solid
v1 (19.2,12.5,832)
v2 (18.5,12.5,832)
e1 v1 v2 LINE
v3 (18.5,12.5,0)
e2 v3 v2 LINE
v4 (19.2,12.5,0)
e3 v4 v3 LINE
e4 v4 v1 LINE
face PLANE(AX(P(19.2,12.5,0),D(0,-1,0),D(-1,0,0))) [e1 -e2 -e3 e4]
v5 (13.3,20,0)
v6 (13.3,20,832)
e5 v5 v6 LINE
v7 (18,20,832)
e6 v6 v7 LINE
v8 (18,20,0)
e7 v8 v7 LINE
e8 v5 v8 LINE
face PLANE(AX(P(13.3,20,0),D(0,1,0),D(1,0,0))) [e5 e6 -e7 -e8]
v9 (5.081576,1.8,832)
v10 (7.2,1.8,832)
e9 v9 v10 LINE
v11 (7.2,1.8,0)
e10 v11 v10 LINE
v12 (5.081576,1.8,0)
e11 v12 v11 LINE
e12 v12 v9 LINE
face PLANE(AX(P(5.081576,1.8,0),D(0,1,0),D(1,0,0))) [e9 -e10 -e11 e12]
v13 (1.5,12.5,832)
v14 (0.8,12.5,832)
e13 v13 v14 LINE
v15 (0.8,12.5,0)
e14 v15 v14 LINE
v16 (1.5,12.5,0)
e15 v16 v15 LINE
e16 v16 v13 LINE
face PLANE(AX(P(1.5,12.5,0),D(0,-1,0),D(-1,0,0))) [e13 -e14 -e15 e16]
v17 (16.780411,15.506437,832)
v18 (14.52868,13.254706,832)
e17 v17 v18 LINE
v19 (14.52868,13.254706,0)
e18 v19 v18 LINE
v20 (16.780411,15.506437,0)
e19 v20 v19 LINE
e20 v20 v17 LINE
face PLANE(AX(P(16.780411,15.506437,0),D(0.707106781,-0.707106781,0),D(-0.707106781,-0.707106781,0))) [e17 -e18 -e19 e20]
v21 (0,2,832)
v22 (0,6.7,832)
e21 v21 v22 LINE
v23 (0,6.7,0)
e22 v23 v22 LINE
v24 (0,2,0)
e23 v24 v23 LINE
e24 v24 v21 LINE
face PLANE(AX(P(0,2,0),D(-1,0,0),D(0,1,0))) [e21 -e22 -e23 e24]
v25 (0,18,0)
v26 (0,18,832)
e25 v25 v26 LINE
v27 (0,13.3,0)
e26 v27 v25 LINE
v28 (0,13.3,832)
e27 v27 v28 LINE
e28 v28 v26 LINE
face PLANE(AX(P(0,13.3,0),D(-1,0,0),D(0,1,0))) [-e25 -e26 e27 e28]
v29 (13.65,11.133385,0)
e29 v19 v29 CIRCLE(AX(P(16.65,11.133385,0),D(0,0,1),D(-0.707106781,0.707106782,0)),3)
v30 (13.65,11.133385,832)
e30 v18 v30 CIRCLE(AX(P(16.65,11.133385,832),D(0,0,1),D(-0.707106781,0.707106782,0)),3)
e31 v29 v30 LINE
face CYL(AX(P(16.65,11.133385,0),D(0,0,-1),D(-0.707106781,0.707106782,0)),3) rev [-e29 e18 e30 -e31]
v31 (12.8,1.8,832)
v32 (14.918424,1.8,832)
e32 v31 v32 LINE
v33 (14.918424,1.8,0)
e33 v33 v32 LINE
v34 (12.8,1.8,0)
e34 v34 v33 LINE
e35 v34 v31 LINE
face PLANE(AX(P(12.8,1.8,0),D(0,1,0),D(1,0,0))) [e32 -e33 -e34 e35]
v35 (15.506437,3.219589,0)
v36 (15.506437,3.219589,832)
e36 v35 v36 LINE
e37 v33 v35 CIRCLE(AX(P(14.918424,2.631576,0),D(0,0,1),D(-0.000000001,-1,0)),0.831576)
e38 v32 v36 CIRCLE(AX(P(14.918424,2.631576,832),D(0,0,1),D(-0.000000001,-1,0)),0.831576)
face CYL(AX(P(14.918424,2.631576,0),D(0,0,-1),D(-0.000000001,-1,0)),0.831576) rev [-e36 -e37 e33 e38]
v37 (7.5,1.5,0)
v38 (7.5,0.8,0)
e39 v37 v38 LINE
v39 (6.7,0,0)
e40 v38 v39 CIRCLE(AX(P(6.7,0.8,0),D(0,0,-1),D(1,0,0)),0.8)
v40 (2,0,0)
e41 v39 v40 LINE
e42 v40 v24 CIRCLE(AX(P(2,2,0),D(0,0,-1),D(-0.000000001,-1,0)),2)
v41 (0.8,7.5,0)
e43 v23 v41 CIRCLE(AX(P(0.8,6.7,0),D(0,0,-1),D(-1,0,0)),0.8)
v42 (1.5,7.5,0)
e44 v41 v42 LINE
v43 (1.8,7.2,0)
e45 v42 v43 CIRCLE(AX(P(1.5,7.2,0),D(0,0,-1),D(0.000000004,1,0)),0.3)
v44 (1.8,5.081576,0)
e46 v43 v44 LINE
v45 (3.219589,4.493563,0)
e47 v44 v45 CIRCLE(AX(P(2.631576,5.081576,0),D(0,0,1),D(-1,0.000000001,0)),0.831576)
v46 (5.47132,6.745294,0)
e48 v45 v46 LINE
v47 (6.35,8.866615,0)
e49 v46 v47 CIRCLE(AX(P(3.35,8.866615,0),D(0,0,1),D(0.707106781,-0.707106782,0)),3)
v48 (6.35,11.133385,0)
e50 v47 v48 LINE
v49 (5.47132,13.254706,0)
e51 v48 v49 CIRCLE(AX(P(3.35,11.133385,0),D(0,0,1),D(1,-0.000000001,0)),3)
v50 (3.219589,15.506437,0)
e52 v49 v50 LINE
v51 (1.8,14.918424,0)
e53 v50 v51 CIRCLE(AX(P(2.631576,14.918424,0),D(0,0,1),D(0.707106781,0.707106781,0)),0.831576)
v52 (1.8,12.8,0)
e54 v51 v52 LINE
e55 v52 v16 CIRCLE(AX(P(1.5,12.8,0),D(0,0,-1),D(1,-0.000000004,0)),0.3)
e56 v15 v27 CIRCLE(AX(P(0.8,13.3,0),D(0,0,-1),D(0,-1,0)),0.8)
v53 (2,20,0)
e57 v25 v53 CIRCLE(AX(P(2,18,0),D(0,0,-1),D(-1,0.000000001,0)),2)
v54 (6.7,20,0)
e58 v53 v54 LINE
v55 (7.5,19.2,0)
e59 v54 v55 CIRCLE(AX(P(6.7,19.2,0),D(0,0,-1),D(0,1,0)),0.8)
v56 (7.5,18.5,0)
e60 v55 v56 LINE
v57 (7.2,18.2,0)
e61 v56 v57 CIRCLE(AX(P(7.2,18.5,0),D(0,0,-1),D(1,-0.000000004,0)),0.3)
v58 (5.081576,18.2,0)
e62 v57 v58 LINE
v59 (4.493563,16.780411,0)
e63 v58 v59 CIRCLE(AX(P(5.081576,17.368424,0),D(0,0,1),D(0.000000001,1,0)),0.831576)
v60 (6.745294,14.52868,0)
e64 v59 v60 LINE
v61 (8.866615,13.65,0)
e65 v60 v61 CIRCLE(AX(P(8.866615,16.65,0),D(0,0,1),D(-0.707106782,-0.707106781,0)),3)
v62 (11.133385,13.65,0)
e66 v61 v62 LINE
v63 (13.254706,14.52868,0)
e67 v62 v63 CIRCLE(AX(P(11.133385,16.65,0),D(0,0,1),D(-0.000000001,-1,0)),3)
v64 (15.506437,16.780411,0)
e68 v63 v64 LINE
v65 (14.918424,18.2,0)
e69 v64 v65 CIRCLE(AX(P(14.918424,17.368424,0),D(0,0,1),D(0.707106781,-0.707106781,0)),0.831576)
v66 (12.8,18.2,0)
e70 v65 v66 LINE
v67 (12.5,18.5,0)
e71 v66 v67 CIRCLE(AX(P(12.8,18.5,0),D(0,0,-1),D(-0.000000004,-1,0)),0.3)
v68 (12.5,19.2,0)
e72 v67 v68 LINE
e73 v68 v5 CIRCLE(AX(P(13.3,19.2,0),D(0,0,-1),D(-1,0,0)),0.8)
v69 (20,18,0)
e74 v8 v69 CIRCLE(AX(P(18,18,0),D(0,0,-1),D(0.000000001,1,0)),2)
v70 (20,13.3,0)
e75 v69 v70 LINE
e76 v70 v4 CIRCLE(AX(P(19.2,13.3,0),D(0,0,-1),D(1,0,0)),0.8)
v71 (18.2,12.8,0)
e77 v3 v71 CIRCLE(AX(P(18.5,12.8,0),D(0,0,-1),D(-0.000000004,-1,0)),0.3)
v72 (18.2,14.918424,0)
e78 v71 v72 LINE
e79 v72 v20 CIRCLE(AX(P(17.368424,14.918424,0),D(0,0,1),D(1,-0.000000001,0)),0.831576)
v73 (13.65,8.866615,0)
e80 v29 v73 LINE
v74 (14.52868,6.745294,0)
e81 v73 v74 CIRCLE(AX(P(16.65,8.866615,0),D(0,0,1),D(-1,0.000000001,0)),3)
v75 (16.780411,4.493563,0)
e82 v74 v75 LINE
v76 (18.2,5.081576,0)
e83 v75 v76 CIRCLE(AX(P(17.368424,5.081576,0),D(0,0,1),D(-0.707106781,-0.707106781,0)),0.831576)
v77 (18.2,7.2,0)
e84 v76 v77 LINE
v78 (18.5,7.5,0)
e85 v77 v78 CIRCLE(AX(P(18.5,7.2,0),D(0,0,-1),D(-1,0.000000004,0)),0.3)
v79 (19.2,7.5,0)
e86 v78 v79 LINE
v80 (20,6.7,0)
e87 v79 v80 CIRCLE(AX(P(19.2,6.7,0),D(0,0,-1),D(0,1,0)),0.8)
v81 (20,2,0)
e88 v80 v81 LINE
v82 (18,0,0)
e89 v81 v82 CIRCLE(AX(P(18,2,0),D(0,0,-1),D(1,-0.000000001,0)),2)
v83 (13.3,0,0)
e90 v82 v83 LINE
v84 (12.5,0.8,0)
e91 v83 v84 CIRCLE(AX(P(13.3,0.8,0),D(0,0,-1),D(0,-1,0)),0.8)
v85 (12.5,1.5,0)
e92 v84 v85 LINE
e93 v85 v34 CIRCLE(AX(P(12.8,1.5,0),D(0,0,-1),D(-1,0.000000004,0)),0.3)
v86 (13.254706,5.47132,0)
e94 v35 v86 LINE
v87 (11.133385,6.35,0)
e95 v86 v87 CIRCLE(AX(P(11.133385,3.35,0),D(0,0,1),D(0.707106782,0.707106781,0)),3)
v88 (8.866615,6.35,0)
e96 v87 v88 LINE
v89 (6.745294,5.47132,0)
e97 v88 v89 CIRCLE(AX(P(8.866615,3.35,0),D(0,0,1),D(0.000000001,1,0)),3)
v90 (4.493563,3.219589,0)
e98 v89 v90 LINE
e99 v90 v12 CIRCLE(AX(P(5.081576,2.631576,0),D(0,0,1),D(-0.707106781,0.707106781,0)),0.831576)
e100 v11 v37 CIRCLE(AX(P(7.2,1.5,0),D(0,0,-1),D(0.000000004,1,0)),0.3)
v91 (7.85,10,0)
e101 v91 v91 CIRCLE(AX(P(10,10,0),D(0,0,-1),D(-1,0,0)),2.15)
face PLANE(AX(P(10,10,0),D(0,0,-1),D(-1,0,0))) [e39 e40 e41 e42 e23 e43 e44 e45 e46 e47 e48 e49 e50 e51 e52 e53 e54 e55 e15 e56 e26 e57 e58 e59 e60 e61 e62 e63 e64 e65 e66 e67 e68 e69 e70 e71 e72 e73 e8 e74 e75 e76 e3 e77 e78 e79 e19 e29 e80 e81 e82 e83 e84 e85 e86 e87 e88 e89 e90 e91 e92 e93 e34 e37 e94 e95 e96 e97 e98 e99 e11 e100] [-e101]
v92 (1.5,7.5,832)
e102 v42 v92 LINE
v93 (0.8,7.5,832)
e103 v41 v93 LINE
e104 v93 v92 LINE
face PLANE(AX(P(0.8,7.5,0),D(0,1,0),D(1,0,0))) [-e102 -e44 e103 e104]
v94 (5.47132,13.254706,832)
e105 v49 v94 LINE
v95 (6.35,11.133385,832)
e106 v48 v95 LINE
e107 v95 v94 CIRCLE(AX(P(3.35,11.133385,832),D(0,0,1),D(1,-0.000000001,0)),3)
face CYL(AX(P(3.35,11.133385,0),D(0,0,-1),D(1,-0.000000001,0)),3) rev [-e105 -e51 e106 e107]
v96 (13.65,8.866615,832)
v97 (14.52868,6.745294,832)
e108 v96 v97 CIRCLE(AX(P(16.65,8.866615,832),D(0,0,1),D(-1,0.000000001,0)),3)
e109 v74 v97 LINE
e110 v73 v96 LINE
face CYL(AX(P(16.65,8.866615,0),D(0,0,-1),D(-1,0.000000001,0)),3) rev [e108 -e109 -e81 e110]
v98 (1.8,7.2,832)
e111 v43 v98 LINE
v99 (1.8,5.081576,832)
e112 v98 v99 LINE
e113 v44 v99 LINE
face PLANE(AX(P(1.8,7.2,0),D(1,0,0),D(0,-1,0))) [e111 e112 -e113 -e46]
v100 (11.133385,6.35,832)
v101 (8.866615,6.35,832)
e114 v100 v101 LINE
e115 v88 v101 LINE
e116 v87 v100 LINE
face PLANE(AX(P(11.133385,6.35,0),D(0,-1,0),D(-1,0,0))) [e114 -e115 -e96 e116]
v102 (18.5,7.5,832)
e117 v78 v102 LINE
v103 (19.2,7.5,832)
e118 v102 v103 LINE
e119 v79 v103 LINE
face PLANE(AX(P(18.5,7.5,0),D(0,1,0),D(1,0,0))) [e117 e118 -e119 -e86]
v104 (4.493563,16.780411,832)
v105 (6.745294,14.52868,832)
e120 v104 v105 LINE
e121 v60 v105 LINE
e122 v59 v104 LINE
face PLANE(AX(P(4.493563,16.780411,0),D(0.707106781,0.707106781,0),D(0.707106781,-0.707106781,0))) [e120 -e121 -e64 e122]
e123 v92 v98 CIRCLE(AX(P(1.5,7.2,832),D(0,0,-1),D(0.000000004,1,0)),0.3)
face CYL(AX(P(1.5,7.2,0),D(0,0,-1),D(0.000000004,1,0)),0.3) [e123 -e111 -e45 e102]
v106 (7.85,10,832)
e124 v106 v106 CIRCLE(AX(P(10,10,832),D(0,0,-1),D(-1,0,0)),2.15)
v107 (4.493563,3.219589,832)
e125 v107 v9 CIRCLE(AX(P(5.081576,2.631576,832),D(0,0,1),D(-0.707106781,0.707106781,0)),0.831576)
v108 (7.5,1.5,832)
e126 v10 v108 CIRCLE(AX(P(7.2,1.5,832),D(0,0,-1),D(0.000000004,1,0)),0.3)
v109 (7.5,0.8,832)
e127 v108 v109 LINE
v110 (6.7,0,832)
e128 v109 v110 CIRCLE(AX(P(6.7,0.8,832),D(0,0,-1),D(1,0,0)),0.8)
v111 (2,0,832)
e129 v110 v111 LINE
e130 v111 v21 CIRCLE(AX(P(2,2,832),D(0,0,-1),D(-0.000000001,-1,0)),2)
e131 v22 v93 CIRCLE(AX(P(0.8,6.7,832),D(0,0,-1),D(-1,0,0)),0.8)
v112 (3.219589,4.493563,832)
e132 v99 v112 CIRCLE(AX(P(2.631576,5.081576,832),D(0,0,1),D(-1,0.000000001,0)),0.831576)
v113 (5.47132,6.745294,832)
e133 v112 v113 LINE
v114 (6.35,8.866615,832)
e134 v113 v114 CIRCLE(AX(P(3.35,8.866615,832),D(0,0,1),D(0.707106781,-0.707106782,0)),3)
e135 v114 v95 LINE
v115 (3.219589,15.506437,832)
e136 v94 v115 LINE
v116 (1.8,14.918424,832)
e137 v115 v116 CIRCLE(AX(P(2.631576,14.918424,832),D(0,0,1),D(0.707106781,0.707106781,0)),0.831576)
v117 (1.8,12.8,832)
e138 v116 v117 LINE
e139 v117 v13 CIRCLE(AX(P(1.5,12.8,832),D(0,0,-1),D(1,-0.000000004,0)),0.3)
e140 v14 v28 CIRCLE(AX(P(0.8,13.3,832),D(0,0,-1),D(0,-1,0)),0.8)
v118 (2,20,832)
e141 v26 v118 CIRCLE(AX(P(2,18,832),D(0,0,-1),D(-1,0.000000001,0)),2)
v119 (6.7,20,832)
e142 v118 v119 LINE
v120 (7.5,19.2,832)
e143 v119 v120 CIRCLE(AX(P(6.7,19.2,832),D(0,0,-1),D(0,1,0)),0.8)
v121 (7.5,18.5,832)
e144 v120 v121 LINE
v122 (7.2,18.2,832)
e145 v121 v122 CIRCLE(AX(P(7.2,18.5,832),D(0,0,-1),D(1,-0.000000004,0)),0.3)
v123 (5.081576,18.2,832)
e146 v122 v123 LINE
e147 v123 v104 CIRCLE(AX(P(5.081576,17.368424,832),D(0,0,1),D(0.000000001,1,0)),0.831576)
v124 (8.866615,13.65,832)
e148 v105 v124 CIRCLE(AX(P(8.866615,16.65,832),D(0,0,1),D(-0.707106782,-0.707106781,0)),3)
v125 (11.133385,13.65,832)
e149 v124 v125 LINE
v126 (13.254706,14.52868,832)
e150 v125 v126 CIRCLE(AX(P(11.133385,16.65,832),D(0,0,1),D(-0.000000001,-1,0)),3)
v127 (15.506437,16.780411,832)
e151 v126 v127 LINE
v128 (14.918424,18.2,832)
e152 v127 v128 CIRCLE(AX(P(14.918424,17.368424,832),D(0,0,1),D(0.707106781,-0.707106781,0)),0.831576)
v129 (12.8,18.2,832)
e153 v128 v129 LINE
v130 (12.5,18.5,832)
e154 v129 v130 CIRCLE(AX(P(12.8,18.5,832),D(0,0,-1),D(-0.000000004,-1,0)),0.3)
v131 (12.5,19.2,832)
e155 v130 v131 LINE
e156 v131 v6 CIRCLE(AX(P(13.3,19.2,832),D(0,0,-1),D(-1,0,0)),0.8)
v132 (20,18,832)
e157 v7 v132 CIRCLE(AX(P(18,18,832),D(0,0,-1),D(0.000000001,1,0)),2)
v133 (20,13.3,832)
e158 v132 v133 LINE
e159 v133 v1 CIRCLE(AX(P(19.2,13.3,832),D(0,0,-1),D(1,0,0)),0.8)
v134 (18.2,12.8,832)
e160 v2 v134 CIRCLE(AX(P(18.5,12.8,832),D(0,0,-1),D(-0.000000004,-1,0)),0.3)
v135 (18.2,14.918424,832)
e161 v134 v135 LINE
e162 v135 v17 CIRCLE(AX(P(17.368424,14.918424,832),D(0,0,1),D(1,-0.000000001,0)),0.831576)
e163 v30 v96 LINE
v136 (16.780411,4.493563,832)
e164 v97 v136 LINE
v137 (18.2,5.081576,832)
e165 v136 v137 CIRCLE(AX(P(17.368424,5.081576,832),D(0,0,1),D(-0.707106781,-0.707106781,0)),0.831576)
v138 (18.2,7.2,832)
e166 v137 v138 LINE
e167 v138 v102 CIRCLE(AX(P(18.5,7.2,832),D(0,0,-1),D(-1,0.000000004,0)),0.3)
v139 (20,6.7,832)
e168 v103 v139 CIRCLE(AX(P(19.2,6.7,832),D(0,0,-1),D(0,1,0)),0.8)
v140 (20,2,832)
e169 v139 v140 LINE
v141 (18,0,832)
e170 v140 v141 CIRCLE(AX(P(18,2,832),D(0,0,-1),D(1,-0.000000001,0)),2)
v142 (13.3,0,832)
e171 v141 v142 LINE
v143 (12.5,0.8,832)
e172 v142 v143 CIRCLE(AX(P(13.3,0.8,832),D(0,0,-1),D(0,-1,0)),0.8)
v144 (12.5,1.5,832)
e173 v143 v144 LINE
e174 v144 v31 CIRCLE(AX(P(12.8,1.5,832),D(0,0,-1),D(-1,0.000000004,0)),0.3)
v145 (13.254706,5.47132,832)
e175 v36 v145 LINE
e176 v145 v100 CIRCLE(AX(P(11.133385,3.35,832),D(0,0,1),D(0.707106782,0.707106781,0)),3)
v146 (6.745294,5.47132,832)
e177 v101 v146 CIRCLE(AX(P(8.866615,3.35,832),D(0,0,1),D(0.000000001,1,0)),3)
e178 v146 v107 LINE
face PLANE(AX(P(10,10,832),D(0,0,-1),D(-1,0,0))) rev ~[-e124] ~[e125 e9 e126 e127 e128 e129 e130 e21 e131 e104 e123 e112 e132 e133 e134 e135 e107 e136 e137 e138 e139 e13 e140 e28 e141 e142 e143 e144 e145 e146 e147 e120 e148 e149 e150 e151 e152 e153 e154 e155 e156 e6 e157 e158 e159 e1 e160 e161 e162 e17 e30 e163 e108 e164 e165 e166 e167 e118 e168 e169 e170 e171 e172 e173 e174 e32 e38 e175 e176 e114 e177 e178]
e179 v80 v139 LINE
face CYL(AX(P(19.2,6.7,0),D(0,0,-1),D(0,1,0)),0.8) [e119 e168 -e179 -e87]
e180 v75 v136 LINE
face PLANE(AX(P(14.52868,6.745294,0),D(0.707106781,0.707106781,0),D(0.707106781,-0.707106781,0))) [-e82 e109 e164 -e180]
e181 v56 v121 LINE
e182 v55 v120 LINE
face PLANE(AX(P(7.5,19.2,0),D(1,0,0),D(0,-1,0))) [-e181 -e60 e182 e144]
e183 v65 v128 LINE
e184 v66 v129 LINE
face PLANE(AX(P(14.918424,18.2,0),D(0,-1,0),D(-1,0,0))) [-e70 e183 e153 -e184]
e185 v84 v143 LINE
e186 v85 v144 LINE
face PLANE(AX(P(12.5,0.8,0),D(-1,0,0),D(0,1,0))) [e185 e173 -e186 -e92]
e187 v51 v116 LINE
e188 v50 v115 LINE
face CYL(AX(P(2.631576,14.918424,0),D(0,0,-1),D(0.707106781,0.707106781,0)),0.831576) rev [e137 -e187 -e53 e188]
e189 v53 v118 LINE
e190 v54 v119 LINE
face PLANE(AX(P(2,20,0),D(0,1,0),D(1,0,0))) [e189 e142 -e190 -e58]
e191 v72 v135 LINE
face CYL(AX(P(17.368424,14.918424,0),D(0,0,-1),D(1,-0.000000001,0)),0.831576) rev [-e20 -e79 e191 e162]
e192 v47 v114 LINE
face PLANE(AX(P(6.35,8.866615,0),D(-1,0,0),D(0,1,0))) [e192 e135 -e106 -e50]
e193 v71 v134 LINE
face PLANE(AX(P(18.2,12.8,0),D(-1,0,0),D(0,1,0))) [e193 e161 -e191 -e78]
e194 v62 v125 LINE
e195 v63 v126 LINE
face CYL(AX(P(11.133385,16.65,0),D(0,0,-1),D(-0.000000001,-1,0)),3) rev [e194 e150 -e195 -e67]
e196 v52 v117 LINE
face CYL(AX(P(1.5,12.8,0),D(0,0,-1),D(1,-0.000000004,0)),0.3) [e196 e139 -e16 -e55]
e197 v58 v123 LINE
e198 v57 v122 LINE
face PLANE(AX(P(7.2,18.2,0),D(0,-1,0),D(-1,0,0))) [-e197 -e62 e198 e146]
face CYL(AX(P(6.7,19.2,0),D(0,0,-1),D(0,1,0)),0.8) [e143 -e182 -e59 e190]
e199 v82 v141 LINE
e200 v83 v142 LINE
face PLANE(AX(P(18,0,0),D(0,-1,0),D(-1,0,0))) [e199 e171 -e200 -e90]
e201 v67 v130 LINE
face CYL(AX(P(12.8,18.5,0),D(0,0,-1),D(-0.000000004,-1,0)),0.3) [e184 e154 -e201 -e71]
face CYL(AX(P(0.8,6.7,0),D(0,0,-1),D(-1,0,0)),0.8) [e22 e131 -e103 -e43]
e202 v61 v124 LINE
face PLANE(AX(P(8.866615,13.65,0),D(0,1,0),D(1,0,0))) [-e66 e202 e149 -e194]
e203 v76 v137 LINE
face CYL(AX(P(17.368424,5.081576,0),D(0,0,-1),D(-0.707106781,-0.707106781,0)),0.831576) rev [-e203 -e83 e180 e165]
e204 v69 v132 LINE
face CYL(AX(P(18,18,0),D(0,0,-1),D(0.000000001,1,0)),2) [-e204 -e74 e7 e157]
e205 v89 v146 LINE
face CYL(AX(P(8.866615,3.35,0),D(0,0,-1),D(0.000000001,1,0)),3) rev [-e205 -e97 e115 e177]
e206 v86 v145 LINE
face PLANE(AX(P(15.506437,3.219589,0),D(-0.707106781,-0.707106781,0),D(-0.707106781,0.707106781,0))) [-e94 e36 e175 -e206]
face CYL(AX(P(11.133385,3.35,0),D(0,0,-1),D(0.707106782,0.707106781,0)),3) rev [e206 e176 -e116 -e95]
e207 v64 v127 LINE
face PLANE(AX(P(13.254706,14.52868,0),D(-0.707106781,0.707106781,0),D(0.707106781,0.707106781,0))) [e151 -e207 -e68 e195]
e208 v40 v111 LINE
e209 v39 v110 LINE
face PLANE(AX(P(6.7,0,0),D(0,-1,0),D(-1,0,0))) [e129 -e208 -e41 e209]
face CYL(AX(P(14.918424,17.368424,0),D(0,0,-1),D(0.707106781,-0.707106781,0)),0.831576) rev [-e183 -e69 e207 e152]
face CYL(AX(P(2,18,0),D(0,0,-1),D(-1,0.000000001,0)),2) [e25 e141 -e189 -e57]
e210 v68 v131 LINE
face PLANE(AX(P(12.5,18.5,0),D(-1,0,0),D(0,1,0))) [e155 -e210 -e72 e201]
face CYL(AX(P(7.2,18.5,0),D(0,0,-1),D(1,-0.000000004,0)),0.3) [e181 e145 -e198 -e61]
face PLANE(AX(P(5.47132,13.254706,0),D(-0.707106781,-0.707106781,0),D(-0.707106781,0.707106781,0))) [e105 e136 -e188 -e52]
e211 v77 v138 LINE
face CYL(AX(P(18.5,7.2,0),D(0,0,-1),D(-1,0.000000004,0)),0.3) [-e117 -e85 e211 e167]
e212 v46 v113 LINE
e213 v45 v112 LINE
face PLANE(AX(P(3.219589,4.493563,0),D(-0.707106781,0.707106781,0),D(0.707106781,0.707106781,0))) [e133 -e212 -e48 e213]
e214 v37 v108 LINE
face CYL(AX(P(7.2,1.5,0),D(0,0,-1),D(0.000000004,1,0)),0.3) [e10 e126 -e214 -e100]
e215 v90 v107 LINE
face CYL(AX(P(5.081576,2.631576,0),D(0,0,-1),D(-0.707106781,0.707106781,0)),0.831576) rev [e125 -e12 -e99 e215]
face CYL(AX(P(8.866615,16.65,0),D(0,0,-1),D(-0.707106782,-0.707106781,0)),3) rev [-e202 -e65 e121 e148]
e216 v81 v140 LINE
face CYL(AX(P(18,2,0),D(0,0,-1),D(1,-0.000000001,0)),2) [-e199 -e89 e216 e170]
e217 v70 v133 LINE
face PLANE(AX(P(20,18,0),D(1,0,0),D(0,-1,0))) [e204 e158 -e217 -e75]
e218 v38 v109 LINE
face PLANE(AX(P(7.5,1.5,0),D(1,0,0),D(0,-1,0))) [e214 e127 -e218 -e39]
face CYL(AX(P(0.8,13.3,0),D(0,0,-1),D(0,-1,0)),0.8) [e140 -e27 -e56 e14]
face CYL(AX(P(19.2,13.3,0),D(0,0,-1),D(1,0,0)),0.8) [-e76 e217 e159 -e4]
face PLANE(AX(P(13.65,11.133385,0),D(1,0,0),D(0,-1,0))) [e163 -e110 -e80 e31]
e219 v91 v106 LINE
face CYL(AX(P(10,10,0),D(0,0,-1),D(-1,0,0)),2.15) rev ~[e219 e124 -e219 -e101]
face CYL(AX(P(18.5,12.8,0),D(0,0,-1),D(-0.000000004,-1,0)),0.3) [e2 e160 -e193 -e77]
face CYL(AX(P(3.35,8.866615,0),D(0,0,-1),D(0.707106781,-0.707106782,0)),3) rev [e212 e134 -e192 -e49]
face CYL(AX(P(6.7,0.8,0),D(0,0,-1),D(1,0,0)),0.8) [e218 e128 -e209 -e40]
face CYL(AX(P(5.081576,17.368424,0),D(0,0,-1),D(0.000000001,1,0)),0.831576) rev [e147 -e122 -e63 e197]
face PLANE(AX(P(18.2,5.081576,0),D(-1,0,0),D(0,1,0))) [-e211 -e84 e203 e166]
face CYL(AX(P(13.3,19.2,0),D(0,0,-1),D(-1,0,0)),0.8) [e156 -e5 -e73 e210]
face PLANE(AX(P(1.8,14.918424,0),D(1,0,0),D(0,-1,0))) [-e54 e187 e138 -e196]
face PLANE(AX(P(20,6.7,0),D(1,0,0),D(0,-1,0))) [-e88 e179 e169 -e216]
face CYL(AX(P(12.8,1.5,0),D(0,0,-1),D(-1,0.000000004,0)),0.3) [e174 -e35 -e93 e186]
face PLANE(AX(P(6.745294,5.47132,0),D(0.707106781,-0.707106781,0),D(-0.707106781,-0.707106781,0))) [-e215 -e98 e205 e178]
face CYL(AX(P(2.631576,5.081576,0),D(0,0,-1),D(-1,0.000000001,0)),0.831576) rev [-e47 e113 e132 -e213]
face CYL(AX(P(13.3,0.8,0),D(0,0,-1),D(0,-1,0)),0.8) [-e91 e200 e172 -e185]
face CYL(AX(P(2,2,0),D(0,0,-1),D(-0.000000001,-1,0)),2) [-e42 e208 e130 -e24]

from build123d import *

# Parameters (mm, degrees)
ESQUISSE1_R        = 2.15
BOSS_EXTRU_1_DEPTH = 832


with BuildPart() as part:
    # Esquisse1 → Boss.-Extru.1 (new body)
    with BuildSketch(Plane(origin=(0, 0, 0), x_dir=(-1, 0, 0), z_dir=(0, 0, -1))):
        with BuildLine():
            Line((-20, 6.7), (-20, 2))
            ThreePointArc((-20, 2), (-19.414213562, 0.585786438), (-18, 0))
            Line((-18, 0), (-13.3, 0))
            ThreePointArc((-13.3, 0), (-12.734314575, 0.234314575), (-12.5, 0.8))
            Line((-12.5, 0.8), (-12.5, 1.5))
            ThreePointArc((-12.5, 1.5), (-12.587867966, 1.712132034), (-12.8, 1.8))
            Line((-12.8, 1.8), (-14.918424061, 1.8))
            ThreePointArc((-14.918424061, 1.8), (-15.686700051, 2.313345604), (-15.506437047, 3.219588924))
            Line((-15.506437047, 3.219588924), (-13.254705627, 5.471320344))
            ThreePointArc((-13.254705627, 5.471320344), (-12.281435581, 6.121638598), (-11.133385284, 6.35))
            Line((-11.133385284, 6.35), (-8.866614716, 6.35))
            ThreePointArc((-8.866614716, 6.35), (-7.718564419, 6.121638598), (-6.745294373, 5.471320344))
            Line((-6.745294373, 5.471320344), (-4.493562953, 3.219588924))
            ThreePointArc((-4.493562953, 3.219588924), (-4.313299949, 2.313345604), (-5.081575939, 1.8))
            Line((-5.081575939, 1.8), (-7.2, 1.8))
            ThreePointArc((-7.2, 1.8), (-7.412132034, 1.712132034), (-7.5, 1.5))
            Line((-7.5, 1.5), (-7.5, 0.8))
            ThreePointArc((-7.5, 0.8), (-7.265685425, 0.234314575), (-6.7, 0))
            Line((-6.7, 0), (-2, 0))
            ThreePointArc((-2, 0), (-0.585786438, 0.585786438), (0, 2))
            Line((0, 2), (0, 6.7))
            ThreePointArc((0, 6.7), (-0.234314575, 7.265685425), (-0.8, 7.5))
            Line((-0.8, 7.5), (-1.5, 7.5))
            ThreePointArc((-1.5, 7.5), (-1.712132034, 7.412132034), (-1.8, 7.2))
            Line((-1.8, 7.2), (-1.8, 5.081575939))
            ThreePointArc((-1.8, 5.081575939), (-2.313345604, 4.313299949), (-3.219588924, 4.493562953))
            Line((-3.219588924, 4.493562953), (-5.471320344, 6.745294373))
            ThreePointArc((-5.471320344, 6.745294373), (-6.121638598, 7.718564419), (-6.35, 8.866614716))
            Line((-6.35, 8.866614716), (-6.35, 11.133385284))
            ThreePointArc((-6.35, 11.133385284), (-6.121638598, 12.281435581), (-5.471320344, 13.254705627))
            Line((-5.471320344, 13.254705627), (-3.219588924, 15.506437047))
            ThreePointArc((-3.219588924, 15.506437047), (-2.313345604, 15.686700051), (-1.8, 14.918424061))
            Line((-1.8, 14.918424061), (-1.8, 12.8))
            ThreePointArc((-1.8, 12.8), (-1.712132034, 12.587867966), (-1.5, 12.5))
            Line((-1.5, 12.5), (-0.8, 12.5))
            ThreePointArc((-0.8, 12.5), (-0.234314575, 12.734314575), (0, 13.3))
            Line((0, 13.3), (0, 18))
            ThreePointArc((0, 18), (-0.585786438, 19.414213562), (-2, 20))
            Line((-2, 20), (-6.7, 20))
            ThreePointArc((-6.7, 20), (-7.265685425, 19.765685425), (-7.5, 19.2))
            Line((-7.5, 19.2), (-7.5, 18.5))
            ThreePointArc((-7.5, 18.5), (-7.412132034, 18.287867966), (-7.2, 18.2))
            Line((-7.2, 18.2), (-5.081575939, 18.2))
            ThreePointArc((-5.081575939, 18.2), (-4.313299949, 17.686654396), (-4.493562953, 16.780411076))
            Line((-4.493562953, 16.780411076), (-6.745294373, 14.528679656))
            ThreePointArc((-6.745294373, 14.528679656), (-7.718564419, 13.878361402), (-8.866614716, 13.65))
            Line((-8.866614716, 13.65), (-11.133385284, 13.65))
            ThreePointArc((-11.133385284, 13.65), (-12.281435581, 13.878361402), (-13.254705627, 14.528679656))
            Line((-13.254705627, 14.528679656), (-15.506437047, 16.780411076))
            ThreePointArc((-15.506437047, 16.780411076), (-15.686700051, 17.686654396), (-14.918424061, 18.2))
            Line((-14.918424061, 18.2), (-12.8, 18.2))
            ThreePointArc((-12.8, 18.2), (-12.587867966, 18.287867966), (-12.5, 18.5))
            Line((-12.5, 18.5), (-12.5, 19.2))
            ThreePointArc((-12.5, 19.2), (-12.734314575, 19.765685425), (-13.3, 20))
            Line((-13.3, 20), (-18, 20))
            ThreePointArc((-18, 20), (-19.414213562, 19.414213562), (-20, 18))
            Line((-20, 18), (-20, 13.3))
            ThreePointArc((-20, 13.3), (-19.765685425, 12.734314575), (-19.2, 12.5))
            Line((-19.2, 12.5), (-18.5, 12.5))
            ThreePointArc((-18.5, 12.5), (-18.287867966, 12.587867966), (-18.2, 12.8))
            Line((-18.2, 12.8), (-18.2, 14.918424061))
            ThreePointArc((-18.2, 14.918424061), (-17.686654396, 15.686700051), (-16.780411076, 15.506437047))
            Line((-16.780411076, 15.506437047), (-14.528679656, 13.254705627))
            ThreePointArc((-14.528679656, 13.254705627), (-13.878361402, 12.281435581), (-13.65, 11.133385284))
            Line((-13.65, 11.133385284), (-13.65, 8.866614716))
            ThreePointArc((-13.65, 8.866614716), (-13.878361402, 7.718564419), (-14.528679656, 6.745294373))
            Line((-14.528679656, 6.745294373), (-16.780411076, 4.493562953))
            ThreePointArc((-16.780411076, 4.493562953), (-17.686654396, 4.313299949), (-18.2, 5.081575939))
            Line((-18.2, 5.081575939), (-18.2, 7.2))
            ThreePointArc((-18.2, 7.2), (-18.287867966, 7.412132034), (-18.5, 7.5))
            Line((-18.5, 7.5), (-19.2, 7.5))
            ThreePointArc((-19.2, 7.5), (-19.765685425, 7.265685425), (-20, 6.7))
        make_face()
        with Locations((-10, 10)):
            Circle(ESQUISSE1_R, mode=Mode.SUBTRACT)
    extrude(amount=-BOSS_EXTRU_1_DEPTH)


solid = part.part
